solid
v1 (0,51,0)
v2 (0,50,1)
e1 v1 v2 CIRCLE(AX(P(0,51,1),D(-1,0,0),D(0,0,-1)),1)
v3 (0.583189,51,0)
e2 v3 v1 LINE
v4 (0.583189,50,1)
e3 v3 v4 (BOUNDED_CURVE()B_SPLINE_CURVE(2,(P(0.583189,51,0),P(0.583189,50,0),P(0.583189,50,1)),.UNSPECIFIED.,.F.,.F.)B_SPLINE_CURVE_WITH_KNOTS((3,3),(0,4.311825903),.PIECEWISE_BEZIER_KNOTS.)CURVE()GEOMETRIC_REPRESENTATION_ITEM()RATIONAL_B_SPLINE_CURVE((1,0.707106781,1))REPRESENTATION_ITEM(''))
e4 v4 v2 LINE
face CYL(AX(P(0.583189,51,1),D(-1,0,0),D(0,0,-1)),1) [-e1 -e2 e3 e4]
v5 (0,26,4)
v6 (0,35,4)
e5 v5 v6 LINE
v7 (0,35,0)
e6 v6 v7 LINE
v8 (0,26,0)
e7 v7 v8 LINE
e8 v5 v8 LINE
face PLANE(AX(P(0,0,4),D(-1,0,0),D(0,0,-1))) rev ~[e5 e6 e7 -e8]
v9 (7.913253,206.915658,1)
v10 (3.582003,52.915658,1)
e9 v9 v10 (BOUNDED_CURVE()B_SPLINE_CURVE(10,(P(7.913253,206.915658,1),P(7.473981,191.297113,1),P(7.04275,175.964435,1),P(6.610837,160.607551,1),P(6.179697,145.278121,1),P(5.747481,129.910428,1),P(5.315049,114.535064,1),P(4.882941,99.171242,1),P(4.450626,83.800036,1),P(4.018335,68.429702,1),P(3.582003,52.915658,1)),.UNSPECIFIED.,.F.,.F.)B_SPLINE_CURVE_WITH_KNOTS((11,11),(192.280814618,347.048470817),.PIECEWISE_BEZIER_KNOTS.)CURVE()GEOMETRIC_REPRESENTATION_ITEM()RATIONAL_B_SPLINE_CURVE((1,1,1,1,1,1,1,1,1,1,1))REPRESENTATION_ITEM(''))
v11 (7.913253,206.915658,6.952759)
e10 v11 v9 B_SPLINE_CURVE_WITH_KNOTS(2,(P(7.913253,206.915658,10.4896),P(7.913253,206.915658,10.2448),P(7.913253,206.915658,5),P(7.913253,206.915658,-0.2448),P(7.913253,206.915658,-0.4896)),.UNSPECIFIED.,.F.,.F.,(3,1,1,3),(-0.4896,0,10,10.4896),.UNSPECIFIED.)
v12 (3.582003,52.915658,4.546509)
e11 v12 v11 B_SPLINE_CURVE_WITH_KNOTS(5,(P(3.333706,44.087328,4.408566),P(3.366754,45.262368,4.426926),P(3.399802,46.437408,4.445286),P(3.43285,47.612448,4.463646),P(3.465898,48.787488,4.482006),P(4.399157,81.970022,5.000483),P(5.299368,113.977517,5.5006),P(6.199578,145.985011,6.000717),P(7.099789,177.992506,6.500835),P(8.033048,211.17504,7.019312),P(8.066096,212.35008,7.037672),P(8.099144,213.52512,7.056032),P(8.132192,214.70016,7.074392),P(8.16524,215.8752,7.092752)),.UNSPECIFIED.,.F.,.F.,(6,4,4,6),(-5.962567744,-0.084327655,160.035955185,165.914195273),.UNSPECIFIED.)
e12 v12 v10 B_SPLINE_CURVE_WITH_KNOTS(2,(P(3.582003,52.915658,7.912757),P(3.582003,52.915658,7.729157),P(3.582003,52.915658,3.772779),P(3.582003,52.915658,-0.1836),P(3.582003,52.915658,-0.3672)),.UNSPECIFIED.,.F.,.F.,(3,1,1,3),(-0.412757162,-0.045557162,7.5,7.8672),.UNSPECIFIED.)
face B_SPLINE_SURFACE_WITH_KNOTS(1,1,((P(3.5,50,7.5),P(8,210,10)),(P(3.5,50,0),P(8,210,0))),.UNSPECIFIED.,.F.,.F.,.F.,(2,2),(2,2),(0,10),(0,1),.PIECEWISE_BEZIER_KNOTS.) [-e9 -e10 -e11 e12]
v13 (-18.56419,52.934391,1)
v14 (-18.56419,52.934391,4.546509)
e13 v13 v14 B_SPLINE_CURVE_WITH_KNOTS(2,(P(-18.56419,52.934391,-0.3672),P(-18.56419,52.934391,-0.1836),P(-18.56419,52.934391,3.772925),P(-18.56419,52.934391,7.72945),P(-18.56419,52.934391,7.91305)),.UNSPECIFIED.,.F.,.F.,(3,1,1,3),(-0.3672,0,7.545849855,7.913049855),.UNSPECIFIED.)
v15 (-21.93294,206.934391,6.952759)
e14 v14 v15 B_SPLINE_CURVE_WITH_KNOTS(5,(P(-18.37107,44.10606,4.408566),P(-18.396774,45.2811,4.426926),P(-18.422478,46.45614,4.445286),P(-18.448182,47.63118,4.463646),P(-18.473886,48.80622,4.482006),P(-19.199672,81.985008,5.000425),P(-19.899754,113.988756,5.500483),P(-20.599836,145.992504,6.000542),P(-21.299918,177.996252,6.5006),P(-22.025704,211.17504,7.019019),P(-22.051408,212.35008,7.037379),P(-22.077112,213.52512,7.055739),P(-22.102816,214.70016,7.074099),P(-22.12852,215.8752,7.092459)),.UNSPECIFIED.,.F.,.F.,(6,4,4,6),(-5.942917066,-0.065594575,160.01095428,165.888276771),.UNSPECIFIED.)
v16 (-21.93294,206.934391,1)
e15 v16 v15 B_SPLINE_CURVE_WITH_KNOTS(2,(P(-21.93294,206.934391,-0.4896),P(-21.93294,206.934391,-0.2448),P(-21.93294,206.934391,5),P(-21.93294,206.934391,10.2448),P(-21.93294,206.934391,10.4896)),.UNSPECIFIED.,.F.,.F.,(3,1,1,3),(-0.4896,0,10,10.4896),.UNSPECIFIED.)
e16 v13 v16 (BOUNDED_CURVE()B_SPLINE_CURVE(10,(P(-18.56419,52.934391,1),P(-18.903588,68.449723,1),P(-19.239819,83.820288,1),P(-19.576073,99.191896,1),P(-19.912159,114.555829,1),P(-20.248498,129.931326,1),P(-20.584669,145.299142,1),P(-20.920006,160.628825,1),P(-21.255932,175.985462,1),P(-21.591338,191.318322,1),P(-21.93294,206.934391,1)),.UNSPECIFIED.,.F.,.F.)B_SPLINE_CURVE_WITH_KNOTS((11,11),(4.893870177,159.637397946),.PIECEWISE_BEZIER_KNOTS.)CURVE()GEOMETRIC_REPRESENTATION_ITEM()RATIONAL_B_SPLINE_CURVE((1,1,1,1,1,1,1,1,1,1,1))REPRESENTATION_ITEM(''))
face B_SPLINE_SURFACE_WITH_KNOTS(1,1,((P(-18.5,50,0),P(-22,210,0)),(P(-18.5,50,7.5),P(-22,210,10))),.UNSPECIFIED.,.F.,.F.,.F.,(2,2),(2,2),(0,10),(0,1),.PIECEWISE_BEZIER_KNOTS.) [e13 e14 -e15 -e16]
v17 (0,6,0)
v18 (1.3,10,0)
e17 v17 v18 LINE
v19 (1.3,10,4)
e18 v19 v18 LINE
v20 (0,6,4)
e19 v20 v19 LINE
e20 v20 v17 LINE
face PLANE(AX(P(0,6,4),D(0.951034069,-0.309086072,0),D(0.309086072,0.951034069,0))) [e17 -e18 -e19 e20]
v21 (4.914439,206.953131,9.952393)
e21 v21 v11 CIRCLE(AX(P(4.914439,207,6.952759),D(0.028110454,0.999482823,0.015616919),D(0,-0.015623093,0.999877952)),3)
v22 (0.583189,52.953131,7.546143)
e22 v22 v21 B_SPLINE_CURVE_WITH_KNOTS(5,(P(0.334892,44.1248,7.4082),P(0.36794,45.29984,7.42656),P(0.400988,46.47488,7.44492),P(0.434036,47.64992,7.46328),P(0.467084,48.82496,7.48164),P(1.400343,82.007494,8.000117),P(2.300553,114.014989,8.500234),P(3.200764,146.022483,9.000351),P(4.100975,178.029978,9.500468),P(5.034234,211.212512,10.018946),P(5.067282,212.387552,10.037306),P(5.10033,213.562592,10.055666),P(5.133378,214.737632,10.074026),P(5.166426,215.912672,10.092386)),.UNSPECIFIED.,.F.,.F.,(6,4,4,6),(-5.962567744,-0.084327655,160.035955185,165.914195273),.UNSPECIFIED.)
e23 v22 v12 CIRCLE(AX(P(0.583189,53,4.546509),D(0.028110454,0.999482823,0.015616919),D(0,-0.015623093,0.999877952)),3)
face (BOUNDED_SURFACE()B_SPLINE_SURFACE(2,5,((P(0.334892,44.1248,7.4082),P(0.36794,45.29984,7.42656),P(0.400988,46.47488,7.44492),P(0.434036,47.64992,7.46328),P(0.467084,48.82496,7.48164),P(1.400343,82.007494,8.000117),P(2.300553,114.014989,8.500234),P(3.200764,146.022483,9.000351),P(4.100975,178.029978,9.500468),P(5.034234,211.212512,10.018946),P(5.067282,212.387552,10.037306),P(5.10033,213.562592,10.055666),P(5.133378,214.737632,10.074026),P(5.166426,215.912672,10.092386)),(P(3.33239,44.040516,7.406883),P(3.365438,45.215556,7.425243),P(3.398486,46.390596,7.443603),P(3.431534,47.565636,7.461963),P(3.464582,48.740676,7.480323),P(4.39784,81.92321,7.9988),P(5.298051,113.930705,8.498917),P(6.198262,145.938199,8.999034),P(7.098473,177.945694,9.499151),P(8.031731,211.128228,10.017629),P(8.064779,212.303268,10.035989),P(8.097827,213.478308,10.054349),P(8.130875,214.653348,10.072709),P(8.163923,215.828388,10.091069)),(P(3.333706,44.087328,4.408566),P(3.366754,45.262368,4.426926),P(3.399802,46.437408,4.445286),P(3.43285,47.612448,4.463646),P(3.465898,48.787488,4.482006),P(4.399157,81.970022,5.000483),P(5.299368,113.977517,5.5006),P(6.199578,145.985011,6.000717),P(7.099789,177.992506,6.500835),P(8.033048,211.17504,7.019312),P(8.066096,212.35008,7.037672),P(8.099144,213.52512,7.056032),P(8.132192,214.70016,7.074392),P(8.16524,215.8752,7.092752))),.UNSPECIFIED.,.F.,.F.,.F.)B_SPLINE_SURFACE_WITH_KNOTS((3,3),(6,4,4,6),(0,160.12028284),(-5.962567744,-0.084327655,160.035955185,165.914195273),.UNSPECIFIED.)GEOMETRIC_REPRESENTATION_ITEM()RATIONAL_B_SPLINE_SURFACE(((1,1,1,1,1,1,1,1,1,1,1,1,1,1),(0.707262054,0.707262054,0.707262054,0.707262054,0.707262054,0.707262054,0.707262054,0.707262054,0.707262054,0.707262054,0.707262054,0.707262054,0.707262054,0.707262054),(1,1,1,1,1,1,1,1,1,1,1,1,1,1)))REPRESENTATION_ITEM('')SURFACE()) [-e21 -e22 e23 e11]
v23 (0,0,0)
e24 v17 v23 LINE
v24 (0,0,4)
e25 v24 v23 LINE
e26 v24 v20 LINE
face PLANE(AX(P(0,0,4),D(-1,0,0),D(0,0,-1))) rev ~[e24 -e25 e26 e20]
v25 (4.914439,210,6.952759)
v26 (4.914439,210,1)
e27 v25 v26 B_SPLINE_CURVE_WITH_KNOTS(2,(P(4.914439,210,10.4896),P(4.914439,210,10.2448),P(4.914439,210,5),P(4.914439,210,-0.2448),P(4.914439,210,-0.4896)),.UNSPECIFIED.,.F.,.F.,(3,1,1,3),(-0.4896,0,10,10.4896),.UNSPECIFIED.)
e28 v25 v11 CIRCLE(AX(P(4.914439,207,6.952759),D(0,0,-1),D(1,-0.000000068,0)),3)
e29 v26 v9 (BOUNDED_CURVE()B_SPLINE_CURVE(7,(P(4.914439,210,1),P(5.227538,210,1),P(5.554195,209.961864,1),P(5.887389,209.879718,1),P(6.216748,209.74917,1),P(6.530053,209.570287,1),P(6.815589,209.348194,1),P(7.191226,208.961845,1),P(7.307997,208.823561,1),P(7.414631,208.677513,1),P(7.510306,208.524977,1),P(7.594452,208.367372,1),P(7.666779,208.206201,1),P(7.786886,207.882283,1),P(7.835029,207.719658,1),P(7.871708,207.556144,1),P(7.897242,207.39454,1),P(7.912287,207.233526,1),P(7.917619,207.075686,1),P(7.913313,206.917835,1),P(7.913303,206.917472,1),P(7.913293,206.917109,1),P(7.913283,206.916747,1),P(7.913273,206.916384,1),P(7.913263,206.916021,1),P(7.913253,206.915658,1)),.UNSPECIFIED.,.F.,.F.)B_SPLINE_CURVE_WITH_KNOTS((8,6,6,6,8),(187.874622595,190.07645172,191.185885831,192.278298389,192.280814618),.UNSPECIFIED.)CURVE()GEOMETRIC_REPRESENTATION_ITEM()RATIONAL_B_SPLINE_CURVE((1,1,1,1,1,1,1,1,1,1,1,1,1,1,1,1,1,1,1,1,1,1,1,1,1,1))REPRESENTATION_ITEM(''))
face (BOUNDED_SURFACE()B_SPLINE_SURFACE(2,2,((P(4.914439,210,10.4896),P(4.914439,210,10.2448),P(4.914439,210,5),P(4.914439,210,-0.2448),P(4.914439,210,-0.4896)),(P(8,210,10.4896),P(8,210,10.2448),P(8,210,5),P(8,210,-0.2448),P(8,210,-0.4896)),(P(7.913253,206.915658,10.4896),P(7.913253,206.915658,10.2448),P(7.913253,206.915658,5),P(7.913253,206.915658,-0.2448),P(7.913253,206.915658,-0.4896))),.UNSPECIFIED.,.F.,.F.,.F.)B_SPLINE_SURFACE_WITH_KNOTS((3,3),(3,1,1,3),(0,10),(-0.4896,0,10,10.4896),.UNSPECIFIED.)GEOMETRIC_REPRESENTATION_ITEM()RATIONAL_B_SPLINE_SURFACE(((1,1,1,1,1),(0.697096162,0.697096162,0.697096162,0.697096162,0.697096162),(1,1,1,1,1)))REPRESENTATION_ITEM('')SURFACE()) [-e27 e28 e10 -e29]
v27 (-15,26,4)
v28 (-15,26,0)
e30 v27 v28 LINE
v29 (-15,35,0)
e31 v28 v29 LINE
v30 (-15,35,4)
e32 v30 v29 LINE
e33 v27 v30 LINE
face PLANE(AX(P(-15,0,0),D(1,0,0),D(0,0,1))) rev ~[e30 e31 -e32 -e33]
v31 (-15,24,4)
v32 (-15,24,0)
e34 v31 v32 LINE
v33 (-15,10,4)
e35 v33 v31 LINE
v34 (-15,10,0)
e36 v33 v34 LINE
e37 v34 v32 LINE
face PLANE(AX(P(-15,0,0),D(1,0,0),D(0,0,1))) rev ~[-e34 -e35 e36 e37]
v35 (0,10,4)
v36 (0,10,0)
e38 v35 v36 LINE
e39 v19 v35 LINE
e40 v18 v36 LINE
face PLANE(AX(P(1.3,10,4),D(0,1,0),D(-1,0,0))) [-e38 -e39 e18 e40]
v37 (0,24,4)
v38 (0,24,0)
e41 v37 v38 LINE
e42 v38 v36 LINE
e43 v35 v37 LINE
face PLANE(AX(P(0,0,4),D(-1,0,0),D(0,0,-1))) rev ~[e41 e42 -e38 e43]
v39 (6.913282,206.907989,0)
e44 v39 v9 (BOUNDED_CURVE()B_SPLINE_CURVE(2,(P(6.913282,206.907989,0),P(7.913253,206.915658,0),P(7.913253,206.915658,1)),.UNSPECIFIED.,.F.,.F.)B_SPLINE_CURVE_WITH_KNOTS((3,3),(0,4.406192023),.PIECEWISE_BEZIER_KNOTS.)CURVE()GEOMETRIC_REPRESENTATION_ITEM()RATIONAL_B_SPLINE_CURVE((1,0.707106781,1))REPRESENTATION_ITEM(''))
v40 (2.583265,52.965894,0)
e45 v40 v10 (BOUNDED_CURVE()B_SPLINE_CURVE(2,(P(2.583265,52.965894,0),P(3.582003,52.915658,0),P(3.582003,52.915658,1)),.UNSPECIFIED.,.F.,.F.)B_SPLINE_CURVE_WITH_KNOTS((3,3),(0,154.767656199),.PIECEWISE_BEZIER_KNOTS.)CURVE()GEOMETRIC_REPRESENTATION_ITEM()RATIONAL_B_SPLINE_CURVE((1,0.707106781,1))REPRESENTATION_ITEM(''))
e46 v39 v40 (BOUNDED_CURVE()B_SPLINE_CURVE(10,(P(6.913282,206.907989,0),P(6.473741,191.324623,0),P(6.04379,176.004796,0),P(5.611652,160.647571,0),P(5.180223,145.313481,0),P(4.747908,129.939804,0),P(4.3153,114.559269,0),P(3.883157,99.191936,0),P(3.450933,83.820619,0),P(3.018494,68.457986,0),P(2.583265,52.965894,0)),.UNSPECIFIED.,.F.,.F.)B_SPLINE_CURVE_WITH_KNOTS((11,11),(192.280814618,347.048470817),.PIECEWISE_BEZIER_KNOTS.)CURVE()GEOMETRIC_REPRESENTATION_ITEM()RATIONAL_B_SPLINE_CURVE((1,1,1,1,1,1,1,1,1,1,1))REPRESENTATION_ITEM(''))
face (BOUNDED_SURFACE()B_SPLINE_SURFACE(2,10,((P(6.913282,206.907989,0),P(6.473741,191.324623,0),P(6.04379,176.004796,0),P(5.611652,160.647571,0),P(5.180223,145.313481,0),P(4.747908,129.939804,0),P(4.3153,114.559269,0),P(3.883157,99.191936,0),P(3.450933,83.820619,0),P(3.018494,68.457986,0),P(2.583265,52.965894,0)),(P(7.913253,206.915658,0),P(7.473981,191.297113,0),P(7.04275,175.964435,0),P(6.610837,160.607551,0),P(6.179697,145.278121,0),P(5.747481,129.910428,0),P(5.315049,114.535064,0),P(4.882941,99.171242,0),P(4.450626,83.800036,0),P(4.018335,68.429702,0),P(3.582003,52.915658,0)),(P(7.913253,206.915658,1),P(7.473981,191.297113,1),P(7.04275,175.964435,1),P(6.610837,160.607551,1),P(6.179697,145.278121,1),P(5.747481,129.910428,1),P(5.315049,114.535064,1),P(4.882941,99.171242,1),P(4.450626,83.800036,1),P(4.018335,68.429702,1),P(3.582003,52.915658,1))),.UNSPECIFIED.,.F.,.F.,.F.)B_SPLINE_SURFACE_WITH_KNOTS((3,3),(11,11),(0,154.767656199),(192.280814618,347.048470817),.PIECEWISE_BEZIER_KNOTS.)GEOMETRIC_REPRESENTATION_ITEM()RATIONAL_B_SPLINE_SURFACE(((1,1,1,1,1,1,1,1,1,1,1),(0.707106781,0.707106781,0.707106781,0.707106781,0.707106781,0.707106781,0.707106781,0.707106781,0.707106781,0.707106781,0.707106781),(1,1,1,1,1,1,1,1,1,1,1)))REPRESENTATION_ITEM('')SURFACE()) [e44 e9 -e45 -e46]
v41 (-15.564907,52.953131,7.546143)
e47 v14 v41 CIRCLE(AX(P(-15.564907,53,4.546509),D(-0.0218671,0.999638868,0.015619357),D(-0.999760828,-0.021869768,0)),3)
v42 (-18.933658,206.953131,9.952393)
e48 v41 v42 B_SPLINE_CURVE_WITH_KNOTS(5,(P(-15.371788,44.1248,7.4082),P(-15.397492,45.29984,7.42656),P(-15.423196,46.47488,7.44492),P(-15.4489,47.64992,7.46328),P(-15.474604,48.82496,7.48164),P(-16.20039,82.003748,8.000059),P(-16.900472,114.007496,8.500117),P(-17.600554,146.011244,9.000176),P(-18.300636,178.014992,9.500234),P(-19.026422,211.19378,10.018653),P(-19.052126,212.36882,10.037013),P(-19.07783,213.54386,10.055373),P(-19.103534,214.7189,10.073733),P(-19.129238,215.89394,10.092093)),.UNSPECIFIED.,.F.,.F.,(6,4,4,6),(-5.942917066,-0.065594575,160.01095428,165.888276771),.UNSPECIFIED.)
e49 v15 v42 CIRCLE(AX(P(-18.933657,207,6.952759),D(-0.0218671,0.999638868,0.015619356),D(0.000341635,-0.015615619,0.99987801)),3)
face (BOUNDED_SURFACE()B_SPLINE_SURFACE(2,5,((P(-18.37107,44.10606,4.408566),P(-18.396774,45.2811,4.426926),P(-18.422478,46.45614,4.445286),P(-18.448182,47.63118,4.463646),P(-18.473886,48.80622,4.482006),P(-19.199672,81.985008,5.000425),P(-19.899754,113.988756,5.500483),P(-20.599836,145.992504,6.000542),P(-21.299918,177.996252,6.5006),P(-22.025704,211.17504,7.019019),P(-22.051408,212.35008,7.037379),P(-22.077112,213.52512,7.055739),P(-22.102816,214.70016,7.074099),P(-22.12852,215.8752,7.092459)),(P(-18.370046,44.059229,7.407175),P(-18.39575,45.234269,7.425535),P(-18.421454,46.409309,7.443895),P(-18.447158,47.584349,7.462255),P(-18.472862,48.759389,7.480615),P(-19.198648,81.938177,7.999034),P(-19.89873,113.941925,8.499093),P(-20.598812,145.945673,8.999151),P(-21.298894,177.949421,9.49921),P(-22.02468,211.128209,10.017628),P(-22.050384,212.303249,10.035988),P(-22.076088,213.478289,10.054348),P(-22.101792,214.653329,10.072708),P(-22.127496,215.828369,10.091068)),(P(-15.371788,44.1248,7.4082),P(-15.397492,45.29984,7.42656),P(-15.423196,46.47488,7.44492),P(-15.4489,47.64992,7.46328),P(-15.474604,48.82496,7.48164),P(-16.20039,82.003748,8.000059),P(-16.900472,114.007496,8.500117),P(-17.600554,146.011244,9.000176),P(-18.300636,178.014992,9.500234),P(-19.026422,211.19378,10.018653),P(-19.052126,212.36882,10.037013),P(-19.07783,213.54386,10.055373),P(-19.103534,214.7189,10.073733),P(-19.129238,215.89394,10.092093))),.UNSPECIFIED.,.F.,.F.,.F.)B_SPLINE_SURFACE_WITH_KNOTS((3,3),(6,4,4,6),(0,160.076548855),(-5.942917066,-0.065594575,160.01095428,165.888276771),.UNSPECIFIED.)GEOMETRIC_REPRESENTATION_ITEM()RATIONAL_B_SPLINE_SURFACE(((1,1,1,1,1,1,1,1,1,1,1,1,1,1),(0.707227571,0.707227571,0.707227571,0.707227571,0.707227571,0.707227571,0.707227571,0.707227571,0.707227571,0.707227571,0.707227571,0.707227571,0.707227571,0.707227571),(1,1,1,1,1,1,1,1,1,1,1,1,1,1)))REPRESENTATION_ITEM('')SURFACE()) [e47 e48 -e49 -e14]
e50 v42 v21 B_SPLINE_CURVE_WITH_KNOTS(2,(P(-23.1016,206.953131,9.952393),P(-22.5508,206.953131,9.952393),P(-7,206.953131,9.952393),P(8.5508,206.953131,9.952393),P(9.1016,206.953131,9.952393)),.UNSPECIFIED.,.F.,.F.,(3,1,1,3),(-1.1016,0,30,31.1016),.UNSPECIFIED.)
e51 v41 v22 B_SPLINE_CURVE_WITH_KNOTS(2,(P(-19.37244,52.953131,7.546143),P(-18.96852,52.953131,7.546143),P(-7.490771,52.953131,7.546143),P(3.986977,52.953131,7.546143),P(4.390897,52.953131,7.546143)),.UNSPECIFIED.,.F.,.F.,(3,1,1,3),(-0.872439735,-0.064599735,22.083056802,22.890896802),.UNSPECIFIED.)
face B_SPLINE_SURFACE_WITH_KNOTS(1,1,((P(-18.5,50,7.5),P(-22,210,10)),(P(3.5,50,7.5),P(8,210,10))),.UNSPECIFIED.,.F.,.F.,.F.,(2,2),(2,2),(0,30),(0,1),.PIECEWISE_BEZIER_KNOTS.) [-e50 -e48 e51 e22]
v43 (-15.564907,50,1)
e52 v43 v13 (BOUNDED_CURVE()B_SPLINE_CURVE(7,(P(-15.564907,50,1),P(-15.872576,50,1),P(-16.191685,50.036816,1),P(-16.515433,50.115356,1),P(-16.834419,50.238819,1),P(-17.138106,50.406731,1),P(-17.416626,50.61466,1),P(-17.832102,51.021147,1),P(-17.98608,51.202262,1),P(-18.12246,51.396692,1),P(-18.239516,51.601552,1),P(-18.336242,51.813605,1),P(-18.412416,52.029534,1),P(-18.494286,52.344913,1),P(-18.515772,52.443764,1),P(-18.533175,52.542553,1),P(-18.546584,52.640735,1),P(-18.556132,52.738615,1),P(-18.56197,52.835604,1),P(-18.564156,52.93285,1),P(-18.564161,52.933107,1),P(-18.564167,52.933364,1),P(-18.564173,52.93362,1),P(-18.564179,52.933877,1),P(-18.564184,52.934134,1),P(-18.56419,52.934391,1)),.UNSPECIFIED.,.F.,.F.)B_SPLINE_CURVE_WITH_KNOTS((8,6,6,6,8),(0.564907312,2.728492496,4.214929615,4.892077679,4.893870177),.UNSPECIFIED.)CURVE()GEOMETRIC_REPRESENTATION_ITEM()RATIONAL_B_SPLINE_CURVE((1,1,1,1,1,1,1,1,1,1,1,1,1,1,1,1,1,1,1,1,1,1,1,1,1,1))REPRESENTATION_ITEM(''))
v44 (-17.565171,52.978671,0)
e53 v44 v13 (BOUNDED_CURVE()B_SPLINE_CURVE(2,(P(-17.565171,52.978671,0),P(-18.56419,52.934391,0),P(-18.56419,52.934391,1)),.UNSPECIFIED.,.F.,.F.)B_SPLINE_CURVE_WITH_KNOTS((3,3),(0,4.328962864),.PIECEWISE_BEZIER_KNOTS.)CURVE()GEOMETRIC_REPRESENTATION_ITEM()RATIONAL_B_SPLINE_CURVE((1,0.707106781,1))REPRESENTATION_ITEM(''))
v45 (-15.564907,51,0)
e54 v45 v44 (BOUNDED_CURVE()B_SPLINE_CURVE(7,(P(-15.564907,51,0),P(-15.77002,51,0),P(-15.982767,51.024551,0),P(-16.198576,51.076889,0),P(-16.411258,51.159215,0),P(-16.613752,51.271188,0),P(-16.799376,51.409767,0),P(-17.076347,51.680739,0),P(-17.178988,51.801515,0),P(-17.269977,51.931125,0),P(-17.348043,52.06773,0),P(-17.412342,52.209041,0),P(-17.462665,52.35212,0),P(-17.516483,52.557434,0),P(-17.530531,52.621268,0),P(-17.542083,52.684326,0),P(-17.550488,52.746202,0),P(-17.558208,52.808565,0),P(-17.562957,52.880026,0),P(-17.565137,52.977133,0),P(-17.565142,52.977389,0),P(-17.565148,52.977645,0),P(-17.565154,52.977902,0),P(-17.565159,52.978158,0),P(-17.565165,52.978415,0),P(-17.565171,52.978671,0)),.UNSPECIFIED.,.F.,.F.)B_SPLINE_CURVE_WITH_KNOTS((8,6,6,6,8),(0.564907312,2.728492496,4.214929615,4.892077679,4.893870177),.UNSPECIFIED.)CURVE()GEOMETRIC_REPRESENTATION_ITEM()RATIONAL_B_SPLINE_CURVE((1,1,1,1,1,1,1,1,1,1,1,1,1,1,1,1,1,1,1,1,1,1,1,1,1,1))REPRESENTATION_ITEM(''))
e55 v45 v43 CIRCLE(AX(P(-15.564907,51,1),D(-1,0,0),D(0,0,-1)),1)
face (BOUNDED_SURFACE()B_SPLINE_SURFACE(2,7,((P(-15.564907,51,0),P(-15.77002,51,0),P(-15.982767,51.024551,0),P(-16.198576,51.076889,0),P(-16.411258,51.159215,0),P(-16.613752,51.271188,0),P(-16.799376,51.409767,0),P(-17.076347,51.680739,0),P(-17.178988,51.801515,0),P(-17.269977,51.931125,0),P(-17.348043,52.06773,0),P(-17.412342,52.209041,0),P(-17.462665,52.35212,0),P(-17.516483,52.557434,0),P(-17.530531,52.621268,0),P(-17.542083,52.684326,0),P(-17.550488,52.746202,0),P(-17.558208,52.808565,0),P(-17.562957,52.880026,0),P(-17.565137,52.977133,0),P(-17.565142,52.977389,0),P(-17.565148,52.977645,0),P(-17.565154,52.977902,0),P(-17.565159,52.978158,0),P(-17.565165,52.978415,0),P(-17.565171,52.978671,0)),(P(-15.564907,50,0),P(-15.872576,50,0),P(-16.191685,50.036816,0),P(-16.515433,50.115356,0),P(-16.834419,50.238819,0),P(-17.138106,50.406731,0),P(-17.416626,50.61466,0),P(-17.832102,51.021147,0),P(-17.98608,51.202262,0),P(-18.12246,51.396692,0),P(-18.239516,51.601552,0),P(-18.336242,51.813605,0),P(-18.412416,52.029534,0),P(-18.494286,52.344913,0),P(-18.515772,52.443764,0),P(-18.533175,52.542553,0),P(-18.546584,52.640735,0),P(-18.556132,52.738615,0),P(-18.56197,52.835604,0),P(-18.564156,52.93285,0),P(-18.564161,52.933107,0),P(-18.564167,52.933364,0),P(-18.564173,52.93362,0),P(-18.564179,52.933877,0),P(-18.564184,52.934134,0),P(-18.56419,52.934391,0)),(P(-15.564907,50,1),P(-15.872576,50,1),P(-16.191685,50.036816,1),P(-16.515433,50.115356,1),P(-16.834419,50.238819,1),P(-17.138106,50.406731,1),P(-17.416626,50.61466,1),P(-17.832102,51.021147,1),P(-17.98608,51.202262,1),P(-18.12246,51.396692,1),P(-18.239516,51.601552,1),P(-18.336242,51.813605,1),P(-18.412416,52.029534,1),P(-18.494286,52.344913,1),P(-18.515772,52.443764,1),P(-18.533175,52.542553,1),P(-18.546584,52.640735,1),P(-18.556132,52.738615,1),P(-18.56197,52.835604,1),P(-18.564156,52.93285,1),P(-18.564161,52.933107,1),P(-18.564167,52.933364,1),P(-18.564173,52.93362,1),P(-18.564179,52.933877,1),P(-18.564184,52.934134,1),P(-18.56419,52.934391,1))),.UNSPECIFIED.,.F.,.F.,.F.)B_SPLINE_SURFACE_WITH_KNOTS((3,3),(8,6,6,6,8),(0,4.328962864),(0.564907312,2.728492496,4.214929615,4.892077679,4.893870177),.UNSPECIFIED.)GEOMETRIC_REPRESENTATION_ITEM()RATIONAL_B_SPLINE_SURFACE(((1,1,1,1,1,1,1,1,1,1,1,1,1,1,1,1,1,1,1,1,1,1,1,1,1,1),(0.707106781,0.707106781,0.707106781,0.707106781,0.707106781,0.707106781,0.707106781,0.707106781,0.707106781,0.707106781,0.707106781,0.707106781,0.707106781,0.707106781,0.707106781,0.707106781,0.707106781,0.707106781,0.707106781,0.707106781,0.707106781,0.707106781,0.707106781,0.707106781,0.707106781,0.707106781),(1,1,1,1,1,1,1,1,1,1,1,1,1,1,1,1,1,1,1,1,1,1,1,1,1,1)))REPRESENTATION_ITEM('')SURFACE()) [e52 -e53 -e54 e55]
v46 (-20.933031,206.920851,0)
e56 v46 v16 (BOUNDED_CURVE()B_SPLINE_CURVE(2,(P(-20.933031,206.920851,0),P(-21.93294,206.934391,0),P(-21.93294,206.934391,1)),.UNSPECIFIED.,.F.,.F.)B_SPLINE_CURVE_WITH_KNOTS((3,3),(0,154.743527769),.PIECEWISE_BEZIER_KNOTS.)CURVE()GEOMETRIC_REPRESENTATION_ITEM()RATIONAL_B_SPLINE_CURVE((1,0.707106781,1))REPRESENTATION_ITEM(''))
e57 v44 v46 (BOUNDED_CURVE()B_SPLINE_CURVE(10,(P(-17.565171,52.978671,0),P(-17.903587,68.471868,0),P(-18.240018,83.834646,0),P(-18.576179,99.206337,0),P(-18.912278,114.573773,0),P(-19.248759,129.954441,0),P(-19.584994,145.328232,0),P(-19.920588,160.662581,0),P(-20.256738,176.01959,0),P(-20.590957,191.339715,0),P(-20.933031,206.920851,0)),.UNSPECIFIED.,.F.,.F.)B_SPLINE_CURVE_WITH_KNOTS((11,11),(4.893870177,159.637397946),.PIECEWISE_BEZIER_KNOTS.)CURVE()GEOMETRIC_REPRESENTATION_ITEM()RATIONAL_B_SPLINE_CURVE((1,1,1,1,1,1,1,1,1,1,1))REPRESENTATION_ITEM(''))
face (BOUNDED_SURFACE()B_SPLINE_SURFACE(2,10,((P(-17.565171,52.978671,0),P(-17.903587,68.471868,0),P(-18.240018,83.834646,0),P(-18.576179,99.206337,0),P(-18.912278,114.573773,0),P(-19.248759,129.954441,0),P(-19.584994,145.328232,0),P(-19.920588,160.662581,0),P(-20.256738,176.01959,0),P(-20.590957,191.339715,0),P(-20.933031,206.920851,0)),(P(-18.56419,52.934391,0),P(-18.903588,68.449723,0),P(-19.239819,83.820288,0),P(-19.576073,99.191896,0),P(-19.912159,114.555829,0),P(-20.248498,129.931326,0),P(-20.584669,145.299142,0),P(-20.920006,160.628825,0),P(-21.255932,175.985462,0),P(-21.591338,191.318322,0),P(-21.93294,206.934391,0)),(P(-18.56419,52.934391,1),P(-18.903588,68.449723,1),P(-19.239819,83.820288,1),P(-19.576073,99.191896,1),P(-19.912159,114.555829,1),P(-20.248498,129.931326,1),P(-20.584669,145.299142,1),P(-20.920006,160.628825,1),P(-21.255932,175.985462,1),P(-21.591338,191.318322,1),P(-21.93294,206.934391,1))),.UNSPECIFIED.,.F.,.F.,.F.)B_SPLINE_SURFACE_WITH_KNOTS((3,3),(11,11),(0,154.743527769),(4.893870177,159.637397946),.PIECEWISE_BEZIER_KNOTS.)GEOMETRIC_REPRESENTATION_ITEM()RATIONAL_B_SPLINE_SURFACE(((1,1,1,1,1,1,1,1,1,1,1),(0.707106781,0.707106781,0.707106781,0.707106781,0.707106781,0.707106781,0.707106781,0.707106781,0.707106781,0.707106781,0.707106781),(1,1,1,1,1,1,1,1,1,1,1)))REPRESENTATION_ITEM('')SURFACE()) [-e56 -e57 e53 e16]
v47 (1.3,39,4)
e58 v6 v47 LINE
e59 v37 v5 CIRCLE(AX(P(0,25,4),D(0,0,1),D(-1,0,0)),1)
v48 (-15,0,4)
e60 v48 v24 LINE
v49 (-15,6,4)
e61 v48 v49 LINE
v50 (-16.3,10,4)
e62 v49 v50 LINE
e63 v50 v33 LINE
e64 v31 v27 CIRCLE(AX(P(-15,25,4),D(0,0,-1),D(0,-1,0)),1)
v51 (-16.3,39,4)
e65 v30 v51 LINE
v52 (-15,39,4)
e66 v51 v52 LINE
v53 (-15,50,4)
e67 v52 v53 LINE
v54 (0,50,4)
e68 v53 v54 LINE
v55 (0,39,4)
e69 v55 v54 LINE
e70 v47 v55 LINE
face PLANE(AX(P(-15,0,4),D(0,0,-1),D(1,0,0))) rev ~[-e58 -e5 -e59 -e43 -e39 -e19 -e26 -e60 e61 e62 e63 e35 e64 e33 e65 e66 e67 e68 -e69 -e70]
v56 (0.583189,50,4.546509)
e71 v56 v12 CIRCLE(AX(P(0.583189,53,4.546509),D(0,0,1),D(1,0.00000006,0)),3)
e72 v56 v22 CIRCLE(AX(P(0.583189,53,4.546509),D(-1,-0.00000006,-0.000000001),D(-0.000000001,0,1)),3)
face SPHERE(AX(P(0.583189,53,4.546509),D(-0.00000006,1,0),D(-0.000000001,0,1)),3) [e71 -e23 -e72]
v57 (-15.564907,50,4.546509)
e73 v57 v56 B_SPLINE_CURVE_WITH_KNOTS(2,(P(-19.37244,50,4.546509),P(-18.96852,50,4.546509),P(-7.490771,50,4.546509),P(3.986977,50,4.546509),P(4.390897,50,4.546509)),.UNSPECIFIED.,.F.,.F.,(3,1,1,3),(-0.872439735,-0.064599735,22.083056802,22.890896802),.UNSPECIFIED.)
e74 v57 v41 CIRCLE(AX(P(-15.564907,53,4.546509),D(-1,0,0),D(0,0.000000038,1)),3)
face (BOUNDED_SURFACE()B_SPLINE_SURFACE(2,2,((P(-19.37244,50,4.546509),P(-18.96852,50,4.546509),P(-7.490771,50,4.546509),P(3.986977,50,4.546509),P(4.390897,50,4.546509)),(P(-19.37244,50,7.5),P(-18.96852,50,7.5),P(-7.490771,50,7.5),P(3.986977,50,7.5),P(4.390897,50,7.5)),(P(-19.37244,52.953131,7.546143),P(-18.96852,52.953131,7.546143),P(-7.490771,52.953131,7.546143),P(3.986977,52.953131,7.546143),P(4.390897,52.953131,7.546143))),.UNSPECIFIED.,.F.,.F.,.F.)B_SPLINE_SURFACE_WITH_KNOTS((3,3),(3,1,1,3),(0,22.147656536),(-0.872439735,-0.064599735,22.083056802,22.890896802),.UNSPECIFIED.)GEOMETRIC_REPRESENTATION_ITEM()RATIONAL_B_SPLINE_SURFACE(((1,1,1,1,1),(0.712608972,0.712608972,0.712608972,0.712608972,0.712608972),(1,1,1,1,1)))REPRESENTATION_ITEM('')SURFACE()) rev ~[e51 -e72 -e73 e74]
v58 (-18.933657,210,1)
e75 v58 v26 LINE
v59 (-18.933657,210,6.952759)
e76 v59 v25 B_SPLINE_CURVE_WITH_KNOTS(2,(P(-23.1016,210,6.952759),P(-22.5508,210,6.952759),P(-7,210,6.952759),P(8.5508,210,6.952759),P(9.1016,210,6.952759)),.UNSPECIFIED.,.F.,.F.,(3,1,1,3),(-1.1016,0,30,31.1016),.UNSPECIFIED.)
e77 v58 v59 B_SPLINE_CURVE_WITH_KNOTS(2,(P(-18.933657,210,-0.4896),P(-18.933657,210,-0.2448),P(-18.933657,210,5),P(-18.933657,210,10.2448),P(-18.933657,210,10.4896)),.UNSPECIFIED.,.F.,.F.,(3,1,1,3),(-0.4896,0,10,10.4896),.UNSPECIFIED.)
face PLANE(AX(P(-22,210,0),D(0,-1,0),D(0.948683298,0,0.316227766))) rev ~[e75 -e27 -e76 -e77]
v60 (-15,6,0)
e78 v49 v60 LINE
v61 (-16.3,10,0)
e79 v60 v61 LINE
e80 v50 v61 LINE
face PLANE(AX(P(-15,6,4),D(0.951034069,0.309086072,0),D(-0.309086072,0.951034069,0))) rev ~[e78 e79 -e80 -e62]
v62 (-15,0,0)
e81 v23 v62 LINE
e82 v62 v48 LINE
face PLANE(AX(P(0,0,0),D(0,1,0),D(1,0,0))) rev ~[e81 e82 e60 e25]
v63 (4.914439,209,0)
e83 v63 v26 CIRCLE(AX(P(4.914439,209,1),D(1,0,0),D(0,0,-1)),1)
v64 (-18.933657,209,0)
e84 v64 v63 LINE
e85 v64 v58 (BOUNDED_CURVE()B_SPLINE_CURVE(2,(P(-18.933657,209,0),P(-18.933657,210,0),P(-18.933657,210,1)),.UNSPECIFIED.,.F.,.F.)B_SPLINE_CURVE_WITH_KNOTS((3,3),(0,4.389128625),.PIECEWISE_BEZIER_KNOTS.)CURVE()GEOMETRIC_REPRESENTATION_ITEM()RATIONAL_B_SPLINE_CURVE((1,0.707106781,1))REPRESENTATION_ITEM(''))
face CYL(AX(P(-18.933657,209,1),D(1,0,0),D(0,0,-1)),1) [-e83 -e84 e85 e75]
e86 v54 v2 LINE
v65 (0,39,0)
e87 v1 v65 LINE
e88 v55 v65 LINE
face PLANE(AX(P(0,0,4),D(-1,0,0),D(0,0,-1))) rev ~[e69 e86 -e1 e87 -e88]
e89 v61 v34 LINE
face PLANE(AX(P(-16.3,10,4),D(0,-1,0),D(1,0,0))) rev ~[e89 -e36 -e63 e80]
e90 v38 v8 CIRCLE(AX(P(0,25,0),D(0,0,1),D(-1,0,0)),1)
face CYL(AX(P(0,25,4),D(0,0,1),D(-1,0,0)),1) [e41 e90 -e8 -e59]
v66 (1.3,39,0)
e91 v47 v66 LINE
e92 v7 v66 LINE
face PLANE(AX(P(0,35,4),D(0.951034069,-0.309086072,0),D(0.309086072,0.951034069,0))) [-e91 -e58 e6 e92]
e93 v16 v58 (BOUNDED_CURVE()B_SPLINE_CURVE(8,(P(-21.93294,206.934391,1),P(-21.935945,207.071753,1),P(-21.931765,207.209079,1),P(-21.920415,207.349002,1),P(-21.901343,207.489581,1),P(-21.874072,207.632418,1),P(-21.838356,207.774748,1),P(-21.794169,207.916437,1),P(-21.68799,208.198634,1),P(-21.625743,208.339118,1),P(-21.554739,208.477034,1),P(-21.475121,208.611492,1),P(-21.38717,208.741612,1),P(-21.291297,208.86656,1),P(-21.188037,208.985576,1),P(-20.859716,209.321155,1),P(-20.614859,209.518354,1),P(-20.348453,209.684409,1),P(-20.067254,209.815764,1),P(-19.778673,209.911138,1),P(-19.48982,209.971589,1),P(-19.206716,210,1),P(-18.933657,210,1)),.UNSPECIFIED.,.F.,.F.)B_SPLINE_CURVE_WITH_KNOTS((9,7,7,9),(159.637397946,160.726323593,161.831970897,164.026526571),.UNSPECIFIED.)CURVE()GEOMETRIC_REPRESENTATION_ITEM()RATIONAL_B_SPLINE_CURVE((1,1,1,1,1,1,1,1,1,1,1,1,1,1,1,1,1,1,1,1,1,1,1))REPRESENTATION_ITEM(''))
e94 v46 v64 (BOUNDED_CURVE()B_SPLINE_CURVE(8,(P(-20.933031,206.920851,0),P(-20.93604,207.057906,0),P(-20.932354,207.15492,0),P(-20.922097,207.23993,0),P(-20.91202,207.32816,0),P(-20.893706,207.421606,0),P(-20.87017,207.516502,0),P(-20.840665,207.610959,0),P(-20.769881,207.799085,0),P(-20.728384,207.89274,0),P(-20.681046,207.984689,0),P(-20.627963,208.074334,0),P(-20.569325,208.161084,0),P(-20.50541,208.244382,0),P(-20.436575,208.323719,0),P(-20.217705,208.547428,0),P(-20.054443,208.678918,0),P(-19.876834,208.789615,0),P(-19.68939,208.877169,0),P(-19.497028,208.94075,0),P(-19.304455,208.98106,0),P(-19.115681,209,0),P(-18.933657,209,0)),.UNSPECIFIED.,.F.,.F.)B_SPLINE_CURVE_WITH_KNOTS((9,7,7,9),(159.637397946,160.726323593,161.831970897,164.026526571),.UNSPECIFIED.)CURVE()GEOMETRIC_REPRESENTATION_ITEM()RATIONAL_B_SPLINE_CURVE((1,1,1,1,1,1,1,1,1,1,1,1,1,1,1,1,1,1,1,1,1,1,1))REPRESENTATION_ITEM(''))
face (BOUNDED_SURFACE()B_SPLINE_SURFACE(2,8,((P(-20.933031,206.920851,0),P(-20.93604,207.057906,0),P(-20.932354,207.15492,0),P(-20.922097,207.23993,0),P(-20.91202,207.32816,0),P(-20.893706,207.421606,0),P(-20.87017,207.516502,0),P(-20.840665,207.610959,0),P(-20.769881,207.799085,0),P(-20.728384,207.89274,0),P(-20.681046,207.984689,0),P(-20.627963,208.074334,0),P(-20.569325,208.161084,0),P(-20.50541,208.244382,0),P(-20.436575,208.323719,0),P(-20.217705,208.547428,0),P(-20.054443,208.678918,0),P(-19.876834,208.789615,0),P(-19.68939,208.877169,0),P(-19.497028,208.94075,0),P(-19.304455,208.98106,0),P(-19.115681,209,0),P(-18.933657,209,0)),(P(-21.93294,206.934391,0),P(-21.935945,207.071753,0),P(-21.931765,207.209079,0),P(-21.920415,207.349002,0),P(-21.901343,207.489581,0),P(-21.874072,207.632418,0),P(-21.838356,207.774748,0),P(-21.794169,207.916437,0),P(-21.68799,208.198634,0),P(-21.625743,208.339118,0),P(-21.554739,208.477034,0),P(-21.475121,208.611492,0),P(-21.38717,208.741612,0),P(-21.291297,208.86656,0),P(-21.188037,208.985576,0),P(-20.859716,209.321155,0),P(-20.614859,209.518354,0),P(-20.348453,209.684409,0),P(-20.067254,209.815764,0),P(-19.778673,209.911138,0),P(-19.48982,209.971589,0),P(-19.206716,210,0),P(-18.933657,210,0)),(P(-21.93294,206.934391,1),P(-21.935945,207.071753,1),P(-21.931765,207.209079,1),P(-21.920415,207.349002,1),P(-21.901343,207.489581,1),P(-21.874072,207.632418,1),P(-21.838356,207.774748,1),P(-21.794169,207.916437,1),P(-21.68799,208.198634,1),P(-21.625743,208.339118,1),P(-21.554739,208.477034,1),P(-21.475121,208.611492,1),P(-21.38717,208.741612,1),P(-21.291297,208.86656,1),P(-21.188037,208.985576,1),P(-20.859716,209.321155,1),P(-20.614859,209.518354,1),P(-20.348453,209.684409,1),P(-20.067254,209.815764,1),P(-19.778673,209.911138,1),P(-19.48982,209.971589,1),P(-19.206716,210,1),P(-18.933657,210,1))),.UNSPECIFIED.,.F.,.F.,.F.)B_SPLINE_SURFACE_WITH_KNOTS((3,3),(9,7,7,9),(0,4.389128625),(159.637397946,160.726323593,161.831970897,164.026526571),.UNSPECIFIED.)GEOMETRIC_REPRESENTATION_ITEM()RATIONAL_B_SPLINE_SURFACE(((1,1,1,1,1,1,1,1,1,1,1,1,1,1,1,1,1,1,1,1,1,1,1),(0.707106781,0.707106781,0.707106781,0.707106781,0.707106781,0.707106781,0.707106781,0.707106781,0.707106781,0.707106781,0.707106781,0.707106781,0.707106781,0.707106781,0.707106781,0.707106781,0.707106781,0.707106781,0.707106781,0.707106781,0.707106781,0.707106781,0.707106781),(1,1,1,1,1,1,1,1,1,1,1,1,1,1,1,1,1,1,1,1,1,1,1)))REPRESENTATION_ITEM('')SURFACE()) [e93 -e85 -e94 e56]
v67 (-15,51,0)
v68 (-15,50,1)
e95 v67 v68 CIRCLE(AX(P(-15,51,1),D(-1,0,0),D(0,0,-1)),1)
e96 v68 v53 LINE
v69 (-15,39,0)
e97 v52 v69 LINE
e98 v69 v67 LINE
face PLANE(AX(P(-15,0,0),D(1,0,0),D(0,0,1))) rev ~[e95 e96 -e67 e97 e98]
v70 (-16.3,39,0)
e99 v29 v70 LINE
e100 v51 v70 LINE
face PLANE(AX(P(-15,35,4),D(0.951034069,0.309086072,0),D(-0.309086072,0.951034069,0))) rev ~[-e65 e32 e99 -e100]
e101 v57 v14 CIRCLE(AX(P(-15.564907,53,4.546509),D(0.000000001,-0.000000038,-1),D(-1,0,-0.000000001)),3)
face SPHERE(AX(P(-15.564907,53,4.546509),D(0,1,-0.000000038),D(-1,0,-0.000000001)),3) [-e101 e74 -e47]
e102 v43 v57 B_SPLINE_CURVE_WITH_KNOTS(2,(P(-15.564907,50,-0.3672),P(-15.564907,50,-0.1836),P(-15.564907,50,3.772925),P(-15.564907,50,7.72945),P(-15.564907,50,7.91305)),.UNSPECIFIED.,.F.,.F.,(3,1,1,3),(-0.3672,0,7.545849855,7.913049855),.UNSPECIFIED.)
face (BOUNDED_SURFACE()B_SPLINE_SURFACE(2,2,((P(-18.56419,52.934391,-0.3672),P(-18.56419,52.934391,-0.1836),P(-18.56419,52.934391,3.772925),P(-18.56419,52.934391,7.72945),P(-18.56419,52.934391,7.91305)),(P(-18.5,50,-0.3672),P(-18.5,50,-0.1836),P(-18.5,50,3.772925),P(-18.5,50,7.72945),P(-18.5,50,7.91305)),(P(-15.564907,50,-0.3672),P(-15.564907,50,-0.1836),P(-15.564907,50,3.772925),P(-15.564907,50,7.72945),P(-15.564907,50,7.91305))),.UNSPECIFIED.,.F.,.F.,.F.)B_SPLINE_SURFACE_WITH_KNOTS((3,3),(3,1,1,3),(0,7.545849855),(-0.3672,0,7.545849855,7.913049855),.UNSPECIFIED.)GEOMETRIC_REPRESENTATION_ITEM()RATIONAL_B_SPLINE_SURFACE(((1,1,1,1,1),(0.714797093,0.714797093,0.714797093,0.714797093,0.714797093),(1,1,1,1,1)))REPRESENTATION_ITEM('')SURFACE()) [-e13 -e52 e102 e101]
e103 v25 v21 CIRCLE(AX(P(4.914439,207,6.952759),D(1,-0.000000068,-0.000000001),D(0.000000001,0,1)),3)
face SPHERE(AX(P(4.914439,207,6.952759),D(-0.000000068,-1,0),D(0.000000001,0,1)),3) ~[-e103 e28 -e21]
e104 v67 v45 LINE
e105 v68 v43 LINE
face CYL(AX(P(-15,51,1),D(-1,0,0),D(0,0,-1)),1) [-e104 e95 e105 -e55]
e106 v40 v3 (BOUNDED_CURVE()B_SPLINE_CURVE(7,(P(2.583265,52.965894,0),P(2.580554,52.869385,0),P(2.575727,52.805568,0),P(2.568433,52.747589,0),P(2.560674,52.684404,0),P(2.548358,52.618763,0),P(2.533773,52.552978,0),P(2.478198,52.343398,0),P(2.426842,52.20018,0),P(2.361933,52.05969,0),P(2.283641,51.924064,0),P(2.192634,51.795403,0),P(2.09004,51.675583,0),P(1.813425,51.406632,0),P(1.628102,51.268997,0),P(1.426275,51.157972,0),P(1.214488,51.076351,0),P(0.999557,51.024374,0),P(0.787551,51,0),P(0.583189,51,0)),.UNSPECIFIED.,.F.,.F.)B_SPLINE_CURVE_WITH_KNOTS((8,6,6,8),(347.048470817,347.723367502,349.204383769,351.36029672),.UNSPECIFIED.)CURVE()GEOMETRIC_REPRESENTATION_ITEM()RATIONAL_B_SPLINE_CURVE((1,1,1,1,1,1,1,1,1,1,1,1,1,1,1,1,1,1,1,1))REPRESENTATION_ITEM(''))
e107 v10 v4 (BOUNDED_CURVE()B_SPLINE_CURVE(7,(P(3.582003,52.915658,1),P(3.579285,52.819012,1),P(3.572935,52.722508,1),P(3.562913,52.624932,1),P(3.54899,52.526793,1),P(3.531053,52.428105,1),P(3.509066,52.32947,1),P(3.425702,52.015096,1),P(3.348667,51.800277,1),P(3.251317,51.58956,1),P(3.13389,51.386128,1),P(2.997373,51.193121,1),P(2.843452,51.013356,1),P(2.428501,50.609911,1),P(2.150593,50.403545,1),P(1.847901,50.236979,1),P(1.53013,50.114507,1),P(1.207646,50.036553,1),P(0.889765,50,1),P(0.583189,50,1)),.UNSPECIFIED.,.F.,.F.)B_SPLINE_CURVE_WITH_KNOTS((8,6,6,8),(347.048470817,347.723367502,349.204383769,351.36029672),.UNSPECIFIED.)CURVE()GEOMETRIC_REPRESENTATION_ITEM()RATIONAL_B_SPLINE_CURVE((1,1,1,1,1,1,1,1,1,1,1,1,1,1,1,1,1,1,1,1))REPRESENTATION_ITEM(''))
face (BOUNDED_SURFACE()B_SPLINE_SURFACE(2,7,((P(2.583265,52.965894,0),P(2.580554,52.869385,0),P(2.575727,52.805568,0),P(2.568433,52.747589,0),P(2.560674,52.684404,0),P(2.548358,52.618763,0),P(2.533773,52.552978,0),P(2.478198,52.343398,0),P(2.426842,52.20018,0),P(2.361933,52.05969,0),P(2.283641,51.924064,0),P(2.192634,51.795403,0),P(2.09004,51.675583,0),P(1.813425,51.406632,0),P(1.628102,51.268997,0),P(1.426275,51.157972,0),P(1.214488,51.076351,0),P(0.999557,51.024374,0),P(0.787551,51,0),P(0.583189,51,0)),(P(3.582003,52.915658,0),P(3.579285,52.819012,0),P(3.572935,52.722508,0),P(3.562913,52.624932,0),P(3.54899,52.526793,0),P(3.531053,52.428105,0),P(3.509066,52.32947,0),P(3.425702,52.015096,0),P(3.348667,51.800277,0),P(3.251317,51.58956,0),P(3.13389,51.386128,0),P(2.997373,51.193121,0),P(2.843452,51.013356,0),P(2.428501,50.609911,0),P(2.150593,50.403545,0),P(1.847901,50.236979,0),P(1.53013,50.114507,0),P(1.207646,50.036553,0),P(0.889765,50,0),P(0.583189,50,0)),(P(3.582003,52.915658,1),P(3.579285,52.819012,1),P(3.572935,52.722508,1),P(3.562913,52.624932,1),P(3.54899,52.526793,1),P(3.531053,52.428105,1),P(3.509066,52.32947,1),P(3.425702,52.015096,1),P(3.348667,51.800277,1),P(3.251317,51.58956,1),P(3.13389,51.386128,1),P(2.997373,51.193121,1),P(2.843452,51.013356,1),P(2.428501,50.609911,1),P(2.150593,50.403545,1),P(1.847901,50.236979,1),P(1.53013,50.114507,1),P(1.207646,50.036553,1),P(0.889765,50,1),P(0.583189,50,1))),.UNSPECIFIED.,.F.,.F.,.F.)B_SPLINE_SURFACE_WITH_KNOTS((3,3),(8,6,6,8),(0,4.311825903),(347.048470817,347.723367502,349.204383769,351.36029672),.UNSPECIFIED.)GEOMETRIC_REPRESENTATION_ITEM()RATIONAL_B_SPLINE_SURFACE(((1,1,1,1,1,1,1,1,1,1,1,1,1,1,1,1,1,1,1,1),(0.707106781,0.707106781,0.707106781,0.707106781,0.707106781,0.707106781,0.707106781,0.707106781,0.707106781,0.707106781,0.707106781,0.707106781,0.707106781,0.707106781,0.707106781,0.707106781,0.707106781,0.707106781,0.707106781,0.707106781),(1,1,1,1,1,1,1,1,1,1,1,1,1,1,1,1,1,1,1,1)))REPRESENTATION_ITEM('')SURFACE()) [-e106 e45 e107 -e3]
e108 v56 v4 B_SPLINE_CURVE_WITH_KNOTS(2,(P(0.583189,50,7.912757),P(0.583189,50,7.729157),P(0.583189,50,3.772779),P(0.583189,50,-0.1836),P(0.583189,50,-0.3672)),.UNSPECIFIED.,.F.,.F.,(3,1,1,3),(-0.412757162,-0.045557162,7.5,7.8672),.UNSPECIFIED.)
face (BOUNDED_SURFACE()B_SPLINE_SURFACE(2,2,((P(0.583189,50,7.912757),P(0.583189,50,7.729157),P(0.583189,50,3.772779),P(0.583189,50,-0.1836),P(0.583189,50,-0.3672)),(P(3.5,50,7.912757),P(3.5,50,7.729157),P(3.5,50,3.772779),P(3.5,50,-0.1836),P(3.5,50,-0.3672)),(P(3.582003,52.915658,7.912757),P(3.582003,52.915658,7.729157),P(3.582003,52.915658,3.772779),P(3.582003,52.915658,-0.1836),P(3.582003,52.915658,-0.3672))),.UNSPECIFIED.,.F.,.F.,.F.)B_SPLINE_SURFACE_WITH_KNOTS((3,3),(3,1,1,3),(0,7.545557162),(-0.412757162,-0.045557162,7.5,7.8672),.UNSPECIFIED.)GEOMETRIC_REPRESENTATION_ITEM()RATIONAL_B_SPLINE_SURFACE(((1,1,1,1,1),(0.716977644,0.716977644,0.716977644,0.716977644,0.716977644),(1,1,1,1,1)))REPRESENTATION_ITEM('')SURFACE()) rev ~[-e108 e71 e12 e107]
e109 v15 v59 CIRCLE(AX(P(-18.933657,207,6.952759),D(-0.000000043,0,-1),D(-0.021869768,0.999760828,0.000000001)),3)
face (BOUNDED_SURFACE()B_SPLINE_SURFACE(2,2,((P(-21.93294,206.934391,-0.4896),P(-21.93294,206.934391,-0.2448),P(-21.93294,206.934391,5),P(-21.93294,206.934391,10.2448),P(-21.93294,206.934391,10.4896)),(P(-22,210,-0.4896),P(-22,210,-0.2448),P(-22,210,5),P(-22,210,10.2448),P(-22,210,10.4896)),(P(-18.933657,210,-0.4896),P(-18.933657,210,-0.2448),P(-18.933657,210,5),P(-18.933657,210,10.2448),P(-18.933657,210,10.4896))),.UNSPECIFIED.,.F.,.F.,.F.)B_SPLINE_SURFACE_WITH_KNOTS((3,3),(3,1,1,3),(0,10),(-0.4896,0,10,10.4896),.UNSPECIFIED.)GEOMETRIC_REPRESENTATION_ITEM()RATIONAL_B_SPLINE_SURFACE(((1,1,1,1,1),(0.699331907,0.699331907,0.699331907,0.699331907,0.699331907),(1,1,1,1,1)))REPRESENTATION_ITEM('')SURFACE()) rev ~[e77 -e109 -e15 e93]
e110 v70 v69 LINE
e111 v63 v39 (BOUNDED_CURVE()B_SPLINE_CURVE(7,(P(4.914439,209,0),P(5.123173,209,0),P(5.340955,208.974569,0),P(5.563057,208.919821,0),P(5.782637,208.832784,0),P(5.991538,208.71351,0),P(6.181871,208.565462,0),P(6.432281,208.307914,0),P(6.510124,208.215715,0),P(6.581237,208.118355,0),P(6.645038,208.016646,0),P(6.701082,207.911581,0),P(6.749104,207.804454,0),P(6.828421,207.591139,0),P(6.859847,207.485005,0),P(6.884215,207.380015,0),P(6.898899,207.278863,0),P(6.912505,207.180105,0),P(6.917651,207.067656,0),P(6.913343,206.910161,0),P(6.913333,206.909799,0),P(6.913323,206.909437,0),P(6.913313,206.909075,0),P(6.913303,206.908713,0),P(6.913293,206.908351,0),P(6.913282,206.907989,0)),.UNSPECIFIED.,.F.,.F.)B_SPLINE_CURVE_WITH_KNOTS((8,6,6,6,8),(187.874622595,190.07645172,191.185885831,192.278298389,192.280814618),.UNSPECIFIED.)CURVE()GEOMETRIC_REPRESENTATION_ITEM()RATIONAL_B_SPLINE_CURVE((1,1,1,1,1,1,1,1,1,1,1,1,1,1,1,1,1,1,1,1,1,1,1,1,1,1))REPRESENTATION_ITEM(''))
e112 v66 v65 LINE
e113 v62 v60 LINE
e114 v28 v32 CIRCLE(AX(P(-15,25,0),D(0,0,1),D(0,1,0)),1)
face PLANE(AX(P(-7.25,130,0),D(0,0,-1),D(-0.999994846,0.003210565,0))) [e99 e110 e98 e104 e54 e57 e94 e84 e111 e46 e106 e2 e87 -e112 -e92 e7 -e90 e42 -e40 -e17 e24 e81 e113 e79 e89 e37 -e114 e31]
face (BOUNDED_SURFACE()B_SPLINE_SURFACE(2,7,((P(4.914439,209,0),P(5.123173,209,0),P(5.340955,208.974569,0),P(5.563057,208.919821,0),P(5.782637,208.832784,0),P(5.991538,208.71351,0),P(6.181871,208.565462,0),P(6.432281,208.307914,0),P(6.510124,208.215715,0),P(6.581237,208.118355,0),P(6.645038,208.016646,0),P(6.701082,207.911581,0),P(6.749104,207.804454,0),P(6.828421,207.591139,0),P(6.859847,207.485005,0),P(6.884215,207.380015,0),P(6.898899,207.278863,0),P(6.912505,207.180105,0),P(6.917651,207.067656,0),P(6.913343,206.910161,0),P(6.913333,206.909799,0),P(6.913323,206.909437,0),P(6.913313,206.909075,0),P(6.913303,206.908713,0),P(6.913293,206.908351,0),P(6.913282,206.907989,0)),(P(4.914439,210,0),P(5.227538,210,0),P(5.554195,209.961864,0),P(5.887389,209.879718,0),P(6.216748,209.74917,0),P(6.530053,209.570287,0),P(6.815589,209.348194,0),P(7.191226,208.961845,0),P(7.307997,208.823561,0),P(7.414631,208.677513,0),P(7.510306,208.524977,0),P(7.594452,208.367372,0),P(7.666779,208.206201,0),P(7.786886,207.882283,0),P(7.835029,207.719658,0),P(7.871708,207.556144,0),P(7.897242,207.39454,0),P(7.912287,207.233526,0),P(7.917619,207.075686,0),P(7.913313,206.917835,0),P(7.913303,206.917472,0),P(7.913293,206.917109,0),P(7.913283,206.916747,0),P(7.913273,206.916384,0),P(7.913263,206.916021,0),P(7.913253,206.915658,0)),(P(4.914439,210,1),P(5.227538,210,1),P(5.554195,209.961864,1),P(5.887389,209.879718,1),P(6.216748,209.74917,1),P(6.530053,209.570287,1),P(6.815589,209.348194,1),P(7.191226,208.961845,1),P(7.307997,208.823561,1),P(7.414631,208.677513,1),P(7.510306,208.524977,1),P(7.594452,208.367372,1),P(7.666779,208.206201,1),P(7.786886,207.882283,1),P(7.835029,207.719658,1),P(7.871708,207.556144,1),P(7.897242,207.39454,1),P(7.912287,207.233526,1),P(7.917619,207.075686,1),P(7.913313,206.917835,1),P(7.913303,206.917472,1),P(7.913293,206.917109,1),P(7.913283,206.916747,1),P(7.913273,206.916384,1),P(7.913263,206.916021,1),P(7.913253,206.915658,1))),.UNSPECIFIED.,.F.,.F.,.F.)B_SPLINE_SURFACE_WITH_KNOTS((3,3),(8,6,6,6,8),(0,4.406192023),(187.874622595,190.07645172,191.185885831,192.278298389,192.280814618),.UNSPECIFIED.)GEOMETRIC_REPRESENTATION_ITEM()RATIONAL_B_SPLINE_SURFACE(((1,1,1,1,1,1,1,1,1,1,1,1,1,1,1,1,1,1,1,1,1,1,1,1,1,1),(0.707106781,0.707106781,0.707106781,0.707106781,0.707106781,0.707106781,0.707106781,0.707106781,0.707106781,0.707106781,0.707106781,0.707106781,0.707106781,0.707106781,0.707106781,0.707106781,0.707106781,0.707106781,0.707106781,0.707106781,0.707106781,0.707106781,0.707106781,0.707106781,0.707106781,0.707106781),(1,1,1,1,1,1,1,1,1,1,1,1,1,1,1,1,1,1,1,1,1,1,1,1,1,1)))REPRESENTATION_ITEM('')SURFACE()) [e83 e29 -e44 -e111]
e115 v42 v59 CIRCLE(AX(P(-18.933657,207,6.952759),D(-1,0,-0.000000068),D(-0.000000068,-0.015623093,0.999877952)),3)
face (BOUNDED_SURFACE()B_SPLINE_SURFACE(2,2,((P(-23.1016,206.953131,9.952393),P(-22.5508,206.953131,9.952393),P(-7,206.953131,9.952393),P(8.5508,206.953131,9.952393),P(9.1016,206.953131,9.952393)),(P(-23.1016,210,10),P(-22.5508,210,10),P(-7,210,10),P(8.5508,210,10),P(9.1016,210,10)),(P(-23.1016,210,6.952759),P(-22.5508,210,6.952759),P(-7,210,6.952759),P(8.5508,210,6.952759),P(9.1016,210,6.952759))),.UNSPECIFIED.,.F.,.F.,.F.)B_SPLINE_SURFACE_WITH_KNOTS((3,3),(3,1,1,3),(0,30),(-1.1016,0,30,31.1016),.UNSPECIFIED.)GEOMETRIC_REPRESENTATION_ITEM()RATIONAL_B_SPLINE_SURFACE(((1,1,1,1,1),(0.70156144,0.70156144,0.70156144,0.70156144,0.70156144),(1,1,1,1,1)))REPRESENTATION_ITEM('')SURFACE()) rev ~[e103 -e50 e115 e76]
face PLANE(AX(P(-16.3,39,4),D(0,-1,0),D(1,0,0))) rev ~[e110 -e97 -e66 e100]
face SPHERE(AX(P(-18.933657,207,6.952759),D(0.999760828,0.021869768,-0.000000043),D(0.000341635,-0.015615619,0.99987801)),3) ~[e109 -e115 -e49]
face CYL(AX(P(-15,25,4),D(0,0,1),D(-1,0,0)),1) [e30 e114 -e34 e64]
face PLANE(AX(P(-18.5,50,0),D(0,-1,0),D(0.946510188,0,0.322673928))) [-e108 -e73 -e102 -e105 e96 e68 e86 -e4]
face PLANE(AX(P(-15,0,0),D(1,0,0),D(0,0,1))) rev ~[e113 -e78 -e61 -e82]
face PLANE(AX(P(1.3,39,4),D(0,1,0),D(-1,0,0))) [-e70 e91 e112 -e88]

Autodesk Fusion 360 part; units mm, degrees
sketch "Sketch1" plane through (0, 0, 0) normal (0, 1, 0) x (1, 0, 0)
  line L0 (0, 0) -> (-15, 0)
  line L1 (-15, 0) -> (-15, -4)
  line L2 (-15, -4) -> (0, -4)
  line L3 (0, -4) -> (0, 0)
  dimension "d1" = 4
  dimension "d2" = 15
extrude "Extrude1" add sketch "Sketch1" along normal blind 50
sketch "Sketch2" plane through (0, 50, 0) normal (0, 1, 0) x (-1, 0, 0)
  line L0 (0, 4) -> (0, 0)
  line L1 (0, 0) -> (15, 0)
  line L2 (15, 0) -> (15, 4)
  line L3 (15, 4) -> (0, 4)
  line L4 (-3.5, 0) -> (18.5, 0)
  line L5 (18.5, 0) -> (18.5, 7.5)
  line L6 (18.5, 7.5) -> (-3.5, 7.5)
  line L7 (-3.5, 7.5) -> (-3.5, 0)
  dimension "d5" = 3.5
  dimension "d6" = 3.5
  dimension "d7" = 3.5
ref_plane "WorkPlane1" through (-7.5, 210, 2) normal (0, 1, 0) x (-1, 0, 0)
sketch "Sketch3" plane through (0, 210, 0) normal (0, 1, 0) x (1, 0, 0)
  line L0 (8, 0) -> (-22, 0)
  line L1 (-22, 0) -> (-22, -10)
  line L2 (-22, -10) -> (8, -10)
  line L3 (8, -10) -> (8, 0)
  dimension "d9" = 22
  dimension "d10" = 8
  dimension "d11" = 10
loft "Loft1" add profiles "Sketch2", "Sketch3" section 1 section 2
fillet "Fillet1" radius 3 8 edges at (5.75, 130, 8.75) (-7, 210, 10) (-20.25, 130, 8.75) (-22, 210, 5) (8, 210, 5) (-18.5, 50, 3.75) (-7.5, 50, 7.5) (3.5, 50, 3.75)
fillet "Fillet2" radius 1 9 edges at (-15.2825, 50, 0) (-17.6629, 50.8556, 0) (-20.2486, 129.9344, 0) (-21.078, 209.098, 0) (-7.0096, 210, 0) (7.0654, 209.0913, 0) (5.7476, 129.9157, 0) (2.6745, 50.8491, 0) (0.2916, 50, 0)
sketch "Sketch4" plane through (0, 0, 4) normal (0, 0, 1) x (-1, 0, 0)
  line L0 (15, 0) -> (0, 0)
  line L1 (0, 0) -> (0, -50)
  line L2 (0, -50) -> (15, -50)
  line L3 (15, -50) -> (15, 0)
  line L4 (7.5, 0) -> (7.5, -50)
  circle A0 centre (0, -25) radius 1
  line L5 (7.5, -25) -> (0, -25)
  line L6 (0, -6) -> (-1.3, -10)
  line L7 (-1.3, -10) -> (0, -10)
  line L8 (0, -35) -> (-1.3, -39)
  line L9 (-1.3, -39) -> (0, -39)
  line L10 (15, -6) -> (16.3, -10)
  line L11 (16.3, -10) -> (15, -10)
  circle A1 centre (15, -25) radius 1
  line L12 (15, -35) -> (16.3, -39)
  line L13 (16.3, -39) -> (15, -39)
  dimension "d16" = 2
  dimension "d17" = 6
  dimension "d18" = 1.3
  dimension "d19" = 4
  dimension "d20" = 4
  dimension "d21" = 10
  dimension "d22" = 1.3
extrude "Extrude2" add sketch "Sketch4" against normal blind 4 contours L3 L10 L11 | L1 L6 L7 | L3 A1 | L1 A0 | L1 L8 L9 | L3 L12 L13 picked at (15.3299, -25.0474)
equation "d6 = d5"
equation "d7 = d5"
equation "d20 = d19"
equation "d22 = d18"
